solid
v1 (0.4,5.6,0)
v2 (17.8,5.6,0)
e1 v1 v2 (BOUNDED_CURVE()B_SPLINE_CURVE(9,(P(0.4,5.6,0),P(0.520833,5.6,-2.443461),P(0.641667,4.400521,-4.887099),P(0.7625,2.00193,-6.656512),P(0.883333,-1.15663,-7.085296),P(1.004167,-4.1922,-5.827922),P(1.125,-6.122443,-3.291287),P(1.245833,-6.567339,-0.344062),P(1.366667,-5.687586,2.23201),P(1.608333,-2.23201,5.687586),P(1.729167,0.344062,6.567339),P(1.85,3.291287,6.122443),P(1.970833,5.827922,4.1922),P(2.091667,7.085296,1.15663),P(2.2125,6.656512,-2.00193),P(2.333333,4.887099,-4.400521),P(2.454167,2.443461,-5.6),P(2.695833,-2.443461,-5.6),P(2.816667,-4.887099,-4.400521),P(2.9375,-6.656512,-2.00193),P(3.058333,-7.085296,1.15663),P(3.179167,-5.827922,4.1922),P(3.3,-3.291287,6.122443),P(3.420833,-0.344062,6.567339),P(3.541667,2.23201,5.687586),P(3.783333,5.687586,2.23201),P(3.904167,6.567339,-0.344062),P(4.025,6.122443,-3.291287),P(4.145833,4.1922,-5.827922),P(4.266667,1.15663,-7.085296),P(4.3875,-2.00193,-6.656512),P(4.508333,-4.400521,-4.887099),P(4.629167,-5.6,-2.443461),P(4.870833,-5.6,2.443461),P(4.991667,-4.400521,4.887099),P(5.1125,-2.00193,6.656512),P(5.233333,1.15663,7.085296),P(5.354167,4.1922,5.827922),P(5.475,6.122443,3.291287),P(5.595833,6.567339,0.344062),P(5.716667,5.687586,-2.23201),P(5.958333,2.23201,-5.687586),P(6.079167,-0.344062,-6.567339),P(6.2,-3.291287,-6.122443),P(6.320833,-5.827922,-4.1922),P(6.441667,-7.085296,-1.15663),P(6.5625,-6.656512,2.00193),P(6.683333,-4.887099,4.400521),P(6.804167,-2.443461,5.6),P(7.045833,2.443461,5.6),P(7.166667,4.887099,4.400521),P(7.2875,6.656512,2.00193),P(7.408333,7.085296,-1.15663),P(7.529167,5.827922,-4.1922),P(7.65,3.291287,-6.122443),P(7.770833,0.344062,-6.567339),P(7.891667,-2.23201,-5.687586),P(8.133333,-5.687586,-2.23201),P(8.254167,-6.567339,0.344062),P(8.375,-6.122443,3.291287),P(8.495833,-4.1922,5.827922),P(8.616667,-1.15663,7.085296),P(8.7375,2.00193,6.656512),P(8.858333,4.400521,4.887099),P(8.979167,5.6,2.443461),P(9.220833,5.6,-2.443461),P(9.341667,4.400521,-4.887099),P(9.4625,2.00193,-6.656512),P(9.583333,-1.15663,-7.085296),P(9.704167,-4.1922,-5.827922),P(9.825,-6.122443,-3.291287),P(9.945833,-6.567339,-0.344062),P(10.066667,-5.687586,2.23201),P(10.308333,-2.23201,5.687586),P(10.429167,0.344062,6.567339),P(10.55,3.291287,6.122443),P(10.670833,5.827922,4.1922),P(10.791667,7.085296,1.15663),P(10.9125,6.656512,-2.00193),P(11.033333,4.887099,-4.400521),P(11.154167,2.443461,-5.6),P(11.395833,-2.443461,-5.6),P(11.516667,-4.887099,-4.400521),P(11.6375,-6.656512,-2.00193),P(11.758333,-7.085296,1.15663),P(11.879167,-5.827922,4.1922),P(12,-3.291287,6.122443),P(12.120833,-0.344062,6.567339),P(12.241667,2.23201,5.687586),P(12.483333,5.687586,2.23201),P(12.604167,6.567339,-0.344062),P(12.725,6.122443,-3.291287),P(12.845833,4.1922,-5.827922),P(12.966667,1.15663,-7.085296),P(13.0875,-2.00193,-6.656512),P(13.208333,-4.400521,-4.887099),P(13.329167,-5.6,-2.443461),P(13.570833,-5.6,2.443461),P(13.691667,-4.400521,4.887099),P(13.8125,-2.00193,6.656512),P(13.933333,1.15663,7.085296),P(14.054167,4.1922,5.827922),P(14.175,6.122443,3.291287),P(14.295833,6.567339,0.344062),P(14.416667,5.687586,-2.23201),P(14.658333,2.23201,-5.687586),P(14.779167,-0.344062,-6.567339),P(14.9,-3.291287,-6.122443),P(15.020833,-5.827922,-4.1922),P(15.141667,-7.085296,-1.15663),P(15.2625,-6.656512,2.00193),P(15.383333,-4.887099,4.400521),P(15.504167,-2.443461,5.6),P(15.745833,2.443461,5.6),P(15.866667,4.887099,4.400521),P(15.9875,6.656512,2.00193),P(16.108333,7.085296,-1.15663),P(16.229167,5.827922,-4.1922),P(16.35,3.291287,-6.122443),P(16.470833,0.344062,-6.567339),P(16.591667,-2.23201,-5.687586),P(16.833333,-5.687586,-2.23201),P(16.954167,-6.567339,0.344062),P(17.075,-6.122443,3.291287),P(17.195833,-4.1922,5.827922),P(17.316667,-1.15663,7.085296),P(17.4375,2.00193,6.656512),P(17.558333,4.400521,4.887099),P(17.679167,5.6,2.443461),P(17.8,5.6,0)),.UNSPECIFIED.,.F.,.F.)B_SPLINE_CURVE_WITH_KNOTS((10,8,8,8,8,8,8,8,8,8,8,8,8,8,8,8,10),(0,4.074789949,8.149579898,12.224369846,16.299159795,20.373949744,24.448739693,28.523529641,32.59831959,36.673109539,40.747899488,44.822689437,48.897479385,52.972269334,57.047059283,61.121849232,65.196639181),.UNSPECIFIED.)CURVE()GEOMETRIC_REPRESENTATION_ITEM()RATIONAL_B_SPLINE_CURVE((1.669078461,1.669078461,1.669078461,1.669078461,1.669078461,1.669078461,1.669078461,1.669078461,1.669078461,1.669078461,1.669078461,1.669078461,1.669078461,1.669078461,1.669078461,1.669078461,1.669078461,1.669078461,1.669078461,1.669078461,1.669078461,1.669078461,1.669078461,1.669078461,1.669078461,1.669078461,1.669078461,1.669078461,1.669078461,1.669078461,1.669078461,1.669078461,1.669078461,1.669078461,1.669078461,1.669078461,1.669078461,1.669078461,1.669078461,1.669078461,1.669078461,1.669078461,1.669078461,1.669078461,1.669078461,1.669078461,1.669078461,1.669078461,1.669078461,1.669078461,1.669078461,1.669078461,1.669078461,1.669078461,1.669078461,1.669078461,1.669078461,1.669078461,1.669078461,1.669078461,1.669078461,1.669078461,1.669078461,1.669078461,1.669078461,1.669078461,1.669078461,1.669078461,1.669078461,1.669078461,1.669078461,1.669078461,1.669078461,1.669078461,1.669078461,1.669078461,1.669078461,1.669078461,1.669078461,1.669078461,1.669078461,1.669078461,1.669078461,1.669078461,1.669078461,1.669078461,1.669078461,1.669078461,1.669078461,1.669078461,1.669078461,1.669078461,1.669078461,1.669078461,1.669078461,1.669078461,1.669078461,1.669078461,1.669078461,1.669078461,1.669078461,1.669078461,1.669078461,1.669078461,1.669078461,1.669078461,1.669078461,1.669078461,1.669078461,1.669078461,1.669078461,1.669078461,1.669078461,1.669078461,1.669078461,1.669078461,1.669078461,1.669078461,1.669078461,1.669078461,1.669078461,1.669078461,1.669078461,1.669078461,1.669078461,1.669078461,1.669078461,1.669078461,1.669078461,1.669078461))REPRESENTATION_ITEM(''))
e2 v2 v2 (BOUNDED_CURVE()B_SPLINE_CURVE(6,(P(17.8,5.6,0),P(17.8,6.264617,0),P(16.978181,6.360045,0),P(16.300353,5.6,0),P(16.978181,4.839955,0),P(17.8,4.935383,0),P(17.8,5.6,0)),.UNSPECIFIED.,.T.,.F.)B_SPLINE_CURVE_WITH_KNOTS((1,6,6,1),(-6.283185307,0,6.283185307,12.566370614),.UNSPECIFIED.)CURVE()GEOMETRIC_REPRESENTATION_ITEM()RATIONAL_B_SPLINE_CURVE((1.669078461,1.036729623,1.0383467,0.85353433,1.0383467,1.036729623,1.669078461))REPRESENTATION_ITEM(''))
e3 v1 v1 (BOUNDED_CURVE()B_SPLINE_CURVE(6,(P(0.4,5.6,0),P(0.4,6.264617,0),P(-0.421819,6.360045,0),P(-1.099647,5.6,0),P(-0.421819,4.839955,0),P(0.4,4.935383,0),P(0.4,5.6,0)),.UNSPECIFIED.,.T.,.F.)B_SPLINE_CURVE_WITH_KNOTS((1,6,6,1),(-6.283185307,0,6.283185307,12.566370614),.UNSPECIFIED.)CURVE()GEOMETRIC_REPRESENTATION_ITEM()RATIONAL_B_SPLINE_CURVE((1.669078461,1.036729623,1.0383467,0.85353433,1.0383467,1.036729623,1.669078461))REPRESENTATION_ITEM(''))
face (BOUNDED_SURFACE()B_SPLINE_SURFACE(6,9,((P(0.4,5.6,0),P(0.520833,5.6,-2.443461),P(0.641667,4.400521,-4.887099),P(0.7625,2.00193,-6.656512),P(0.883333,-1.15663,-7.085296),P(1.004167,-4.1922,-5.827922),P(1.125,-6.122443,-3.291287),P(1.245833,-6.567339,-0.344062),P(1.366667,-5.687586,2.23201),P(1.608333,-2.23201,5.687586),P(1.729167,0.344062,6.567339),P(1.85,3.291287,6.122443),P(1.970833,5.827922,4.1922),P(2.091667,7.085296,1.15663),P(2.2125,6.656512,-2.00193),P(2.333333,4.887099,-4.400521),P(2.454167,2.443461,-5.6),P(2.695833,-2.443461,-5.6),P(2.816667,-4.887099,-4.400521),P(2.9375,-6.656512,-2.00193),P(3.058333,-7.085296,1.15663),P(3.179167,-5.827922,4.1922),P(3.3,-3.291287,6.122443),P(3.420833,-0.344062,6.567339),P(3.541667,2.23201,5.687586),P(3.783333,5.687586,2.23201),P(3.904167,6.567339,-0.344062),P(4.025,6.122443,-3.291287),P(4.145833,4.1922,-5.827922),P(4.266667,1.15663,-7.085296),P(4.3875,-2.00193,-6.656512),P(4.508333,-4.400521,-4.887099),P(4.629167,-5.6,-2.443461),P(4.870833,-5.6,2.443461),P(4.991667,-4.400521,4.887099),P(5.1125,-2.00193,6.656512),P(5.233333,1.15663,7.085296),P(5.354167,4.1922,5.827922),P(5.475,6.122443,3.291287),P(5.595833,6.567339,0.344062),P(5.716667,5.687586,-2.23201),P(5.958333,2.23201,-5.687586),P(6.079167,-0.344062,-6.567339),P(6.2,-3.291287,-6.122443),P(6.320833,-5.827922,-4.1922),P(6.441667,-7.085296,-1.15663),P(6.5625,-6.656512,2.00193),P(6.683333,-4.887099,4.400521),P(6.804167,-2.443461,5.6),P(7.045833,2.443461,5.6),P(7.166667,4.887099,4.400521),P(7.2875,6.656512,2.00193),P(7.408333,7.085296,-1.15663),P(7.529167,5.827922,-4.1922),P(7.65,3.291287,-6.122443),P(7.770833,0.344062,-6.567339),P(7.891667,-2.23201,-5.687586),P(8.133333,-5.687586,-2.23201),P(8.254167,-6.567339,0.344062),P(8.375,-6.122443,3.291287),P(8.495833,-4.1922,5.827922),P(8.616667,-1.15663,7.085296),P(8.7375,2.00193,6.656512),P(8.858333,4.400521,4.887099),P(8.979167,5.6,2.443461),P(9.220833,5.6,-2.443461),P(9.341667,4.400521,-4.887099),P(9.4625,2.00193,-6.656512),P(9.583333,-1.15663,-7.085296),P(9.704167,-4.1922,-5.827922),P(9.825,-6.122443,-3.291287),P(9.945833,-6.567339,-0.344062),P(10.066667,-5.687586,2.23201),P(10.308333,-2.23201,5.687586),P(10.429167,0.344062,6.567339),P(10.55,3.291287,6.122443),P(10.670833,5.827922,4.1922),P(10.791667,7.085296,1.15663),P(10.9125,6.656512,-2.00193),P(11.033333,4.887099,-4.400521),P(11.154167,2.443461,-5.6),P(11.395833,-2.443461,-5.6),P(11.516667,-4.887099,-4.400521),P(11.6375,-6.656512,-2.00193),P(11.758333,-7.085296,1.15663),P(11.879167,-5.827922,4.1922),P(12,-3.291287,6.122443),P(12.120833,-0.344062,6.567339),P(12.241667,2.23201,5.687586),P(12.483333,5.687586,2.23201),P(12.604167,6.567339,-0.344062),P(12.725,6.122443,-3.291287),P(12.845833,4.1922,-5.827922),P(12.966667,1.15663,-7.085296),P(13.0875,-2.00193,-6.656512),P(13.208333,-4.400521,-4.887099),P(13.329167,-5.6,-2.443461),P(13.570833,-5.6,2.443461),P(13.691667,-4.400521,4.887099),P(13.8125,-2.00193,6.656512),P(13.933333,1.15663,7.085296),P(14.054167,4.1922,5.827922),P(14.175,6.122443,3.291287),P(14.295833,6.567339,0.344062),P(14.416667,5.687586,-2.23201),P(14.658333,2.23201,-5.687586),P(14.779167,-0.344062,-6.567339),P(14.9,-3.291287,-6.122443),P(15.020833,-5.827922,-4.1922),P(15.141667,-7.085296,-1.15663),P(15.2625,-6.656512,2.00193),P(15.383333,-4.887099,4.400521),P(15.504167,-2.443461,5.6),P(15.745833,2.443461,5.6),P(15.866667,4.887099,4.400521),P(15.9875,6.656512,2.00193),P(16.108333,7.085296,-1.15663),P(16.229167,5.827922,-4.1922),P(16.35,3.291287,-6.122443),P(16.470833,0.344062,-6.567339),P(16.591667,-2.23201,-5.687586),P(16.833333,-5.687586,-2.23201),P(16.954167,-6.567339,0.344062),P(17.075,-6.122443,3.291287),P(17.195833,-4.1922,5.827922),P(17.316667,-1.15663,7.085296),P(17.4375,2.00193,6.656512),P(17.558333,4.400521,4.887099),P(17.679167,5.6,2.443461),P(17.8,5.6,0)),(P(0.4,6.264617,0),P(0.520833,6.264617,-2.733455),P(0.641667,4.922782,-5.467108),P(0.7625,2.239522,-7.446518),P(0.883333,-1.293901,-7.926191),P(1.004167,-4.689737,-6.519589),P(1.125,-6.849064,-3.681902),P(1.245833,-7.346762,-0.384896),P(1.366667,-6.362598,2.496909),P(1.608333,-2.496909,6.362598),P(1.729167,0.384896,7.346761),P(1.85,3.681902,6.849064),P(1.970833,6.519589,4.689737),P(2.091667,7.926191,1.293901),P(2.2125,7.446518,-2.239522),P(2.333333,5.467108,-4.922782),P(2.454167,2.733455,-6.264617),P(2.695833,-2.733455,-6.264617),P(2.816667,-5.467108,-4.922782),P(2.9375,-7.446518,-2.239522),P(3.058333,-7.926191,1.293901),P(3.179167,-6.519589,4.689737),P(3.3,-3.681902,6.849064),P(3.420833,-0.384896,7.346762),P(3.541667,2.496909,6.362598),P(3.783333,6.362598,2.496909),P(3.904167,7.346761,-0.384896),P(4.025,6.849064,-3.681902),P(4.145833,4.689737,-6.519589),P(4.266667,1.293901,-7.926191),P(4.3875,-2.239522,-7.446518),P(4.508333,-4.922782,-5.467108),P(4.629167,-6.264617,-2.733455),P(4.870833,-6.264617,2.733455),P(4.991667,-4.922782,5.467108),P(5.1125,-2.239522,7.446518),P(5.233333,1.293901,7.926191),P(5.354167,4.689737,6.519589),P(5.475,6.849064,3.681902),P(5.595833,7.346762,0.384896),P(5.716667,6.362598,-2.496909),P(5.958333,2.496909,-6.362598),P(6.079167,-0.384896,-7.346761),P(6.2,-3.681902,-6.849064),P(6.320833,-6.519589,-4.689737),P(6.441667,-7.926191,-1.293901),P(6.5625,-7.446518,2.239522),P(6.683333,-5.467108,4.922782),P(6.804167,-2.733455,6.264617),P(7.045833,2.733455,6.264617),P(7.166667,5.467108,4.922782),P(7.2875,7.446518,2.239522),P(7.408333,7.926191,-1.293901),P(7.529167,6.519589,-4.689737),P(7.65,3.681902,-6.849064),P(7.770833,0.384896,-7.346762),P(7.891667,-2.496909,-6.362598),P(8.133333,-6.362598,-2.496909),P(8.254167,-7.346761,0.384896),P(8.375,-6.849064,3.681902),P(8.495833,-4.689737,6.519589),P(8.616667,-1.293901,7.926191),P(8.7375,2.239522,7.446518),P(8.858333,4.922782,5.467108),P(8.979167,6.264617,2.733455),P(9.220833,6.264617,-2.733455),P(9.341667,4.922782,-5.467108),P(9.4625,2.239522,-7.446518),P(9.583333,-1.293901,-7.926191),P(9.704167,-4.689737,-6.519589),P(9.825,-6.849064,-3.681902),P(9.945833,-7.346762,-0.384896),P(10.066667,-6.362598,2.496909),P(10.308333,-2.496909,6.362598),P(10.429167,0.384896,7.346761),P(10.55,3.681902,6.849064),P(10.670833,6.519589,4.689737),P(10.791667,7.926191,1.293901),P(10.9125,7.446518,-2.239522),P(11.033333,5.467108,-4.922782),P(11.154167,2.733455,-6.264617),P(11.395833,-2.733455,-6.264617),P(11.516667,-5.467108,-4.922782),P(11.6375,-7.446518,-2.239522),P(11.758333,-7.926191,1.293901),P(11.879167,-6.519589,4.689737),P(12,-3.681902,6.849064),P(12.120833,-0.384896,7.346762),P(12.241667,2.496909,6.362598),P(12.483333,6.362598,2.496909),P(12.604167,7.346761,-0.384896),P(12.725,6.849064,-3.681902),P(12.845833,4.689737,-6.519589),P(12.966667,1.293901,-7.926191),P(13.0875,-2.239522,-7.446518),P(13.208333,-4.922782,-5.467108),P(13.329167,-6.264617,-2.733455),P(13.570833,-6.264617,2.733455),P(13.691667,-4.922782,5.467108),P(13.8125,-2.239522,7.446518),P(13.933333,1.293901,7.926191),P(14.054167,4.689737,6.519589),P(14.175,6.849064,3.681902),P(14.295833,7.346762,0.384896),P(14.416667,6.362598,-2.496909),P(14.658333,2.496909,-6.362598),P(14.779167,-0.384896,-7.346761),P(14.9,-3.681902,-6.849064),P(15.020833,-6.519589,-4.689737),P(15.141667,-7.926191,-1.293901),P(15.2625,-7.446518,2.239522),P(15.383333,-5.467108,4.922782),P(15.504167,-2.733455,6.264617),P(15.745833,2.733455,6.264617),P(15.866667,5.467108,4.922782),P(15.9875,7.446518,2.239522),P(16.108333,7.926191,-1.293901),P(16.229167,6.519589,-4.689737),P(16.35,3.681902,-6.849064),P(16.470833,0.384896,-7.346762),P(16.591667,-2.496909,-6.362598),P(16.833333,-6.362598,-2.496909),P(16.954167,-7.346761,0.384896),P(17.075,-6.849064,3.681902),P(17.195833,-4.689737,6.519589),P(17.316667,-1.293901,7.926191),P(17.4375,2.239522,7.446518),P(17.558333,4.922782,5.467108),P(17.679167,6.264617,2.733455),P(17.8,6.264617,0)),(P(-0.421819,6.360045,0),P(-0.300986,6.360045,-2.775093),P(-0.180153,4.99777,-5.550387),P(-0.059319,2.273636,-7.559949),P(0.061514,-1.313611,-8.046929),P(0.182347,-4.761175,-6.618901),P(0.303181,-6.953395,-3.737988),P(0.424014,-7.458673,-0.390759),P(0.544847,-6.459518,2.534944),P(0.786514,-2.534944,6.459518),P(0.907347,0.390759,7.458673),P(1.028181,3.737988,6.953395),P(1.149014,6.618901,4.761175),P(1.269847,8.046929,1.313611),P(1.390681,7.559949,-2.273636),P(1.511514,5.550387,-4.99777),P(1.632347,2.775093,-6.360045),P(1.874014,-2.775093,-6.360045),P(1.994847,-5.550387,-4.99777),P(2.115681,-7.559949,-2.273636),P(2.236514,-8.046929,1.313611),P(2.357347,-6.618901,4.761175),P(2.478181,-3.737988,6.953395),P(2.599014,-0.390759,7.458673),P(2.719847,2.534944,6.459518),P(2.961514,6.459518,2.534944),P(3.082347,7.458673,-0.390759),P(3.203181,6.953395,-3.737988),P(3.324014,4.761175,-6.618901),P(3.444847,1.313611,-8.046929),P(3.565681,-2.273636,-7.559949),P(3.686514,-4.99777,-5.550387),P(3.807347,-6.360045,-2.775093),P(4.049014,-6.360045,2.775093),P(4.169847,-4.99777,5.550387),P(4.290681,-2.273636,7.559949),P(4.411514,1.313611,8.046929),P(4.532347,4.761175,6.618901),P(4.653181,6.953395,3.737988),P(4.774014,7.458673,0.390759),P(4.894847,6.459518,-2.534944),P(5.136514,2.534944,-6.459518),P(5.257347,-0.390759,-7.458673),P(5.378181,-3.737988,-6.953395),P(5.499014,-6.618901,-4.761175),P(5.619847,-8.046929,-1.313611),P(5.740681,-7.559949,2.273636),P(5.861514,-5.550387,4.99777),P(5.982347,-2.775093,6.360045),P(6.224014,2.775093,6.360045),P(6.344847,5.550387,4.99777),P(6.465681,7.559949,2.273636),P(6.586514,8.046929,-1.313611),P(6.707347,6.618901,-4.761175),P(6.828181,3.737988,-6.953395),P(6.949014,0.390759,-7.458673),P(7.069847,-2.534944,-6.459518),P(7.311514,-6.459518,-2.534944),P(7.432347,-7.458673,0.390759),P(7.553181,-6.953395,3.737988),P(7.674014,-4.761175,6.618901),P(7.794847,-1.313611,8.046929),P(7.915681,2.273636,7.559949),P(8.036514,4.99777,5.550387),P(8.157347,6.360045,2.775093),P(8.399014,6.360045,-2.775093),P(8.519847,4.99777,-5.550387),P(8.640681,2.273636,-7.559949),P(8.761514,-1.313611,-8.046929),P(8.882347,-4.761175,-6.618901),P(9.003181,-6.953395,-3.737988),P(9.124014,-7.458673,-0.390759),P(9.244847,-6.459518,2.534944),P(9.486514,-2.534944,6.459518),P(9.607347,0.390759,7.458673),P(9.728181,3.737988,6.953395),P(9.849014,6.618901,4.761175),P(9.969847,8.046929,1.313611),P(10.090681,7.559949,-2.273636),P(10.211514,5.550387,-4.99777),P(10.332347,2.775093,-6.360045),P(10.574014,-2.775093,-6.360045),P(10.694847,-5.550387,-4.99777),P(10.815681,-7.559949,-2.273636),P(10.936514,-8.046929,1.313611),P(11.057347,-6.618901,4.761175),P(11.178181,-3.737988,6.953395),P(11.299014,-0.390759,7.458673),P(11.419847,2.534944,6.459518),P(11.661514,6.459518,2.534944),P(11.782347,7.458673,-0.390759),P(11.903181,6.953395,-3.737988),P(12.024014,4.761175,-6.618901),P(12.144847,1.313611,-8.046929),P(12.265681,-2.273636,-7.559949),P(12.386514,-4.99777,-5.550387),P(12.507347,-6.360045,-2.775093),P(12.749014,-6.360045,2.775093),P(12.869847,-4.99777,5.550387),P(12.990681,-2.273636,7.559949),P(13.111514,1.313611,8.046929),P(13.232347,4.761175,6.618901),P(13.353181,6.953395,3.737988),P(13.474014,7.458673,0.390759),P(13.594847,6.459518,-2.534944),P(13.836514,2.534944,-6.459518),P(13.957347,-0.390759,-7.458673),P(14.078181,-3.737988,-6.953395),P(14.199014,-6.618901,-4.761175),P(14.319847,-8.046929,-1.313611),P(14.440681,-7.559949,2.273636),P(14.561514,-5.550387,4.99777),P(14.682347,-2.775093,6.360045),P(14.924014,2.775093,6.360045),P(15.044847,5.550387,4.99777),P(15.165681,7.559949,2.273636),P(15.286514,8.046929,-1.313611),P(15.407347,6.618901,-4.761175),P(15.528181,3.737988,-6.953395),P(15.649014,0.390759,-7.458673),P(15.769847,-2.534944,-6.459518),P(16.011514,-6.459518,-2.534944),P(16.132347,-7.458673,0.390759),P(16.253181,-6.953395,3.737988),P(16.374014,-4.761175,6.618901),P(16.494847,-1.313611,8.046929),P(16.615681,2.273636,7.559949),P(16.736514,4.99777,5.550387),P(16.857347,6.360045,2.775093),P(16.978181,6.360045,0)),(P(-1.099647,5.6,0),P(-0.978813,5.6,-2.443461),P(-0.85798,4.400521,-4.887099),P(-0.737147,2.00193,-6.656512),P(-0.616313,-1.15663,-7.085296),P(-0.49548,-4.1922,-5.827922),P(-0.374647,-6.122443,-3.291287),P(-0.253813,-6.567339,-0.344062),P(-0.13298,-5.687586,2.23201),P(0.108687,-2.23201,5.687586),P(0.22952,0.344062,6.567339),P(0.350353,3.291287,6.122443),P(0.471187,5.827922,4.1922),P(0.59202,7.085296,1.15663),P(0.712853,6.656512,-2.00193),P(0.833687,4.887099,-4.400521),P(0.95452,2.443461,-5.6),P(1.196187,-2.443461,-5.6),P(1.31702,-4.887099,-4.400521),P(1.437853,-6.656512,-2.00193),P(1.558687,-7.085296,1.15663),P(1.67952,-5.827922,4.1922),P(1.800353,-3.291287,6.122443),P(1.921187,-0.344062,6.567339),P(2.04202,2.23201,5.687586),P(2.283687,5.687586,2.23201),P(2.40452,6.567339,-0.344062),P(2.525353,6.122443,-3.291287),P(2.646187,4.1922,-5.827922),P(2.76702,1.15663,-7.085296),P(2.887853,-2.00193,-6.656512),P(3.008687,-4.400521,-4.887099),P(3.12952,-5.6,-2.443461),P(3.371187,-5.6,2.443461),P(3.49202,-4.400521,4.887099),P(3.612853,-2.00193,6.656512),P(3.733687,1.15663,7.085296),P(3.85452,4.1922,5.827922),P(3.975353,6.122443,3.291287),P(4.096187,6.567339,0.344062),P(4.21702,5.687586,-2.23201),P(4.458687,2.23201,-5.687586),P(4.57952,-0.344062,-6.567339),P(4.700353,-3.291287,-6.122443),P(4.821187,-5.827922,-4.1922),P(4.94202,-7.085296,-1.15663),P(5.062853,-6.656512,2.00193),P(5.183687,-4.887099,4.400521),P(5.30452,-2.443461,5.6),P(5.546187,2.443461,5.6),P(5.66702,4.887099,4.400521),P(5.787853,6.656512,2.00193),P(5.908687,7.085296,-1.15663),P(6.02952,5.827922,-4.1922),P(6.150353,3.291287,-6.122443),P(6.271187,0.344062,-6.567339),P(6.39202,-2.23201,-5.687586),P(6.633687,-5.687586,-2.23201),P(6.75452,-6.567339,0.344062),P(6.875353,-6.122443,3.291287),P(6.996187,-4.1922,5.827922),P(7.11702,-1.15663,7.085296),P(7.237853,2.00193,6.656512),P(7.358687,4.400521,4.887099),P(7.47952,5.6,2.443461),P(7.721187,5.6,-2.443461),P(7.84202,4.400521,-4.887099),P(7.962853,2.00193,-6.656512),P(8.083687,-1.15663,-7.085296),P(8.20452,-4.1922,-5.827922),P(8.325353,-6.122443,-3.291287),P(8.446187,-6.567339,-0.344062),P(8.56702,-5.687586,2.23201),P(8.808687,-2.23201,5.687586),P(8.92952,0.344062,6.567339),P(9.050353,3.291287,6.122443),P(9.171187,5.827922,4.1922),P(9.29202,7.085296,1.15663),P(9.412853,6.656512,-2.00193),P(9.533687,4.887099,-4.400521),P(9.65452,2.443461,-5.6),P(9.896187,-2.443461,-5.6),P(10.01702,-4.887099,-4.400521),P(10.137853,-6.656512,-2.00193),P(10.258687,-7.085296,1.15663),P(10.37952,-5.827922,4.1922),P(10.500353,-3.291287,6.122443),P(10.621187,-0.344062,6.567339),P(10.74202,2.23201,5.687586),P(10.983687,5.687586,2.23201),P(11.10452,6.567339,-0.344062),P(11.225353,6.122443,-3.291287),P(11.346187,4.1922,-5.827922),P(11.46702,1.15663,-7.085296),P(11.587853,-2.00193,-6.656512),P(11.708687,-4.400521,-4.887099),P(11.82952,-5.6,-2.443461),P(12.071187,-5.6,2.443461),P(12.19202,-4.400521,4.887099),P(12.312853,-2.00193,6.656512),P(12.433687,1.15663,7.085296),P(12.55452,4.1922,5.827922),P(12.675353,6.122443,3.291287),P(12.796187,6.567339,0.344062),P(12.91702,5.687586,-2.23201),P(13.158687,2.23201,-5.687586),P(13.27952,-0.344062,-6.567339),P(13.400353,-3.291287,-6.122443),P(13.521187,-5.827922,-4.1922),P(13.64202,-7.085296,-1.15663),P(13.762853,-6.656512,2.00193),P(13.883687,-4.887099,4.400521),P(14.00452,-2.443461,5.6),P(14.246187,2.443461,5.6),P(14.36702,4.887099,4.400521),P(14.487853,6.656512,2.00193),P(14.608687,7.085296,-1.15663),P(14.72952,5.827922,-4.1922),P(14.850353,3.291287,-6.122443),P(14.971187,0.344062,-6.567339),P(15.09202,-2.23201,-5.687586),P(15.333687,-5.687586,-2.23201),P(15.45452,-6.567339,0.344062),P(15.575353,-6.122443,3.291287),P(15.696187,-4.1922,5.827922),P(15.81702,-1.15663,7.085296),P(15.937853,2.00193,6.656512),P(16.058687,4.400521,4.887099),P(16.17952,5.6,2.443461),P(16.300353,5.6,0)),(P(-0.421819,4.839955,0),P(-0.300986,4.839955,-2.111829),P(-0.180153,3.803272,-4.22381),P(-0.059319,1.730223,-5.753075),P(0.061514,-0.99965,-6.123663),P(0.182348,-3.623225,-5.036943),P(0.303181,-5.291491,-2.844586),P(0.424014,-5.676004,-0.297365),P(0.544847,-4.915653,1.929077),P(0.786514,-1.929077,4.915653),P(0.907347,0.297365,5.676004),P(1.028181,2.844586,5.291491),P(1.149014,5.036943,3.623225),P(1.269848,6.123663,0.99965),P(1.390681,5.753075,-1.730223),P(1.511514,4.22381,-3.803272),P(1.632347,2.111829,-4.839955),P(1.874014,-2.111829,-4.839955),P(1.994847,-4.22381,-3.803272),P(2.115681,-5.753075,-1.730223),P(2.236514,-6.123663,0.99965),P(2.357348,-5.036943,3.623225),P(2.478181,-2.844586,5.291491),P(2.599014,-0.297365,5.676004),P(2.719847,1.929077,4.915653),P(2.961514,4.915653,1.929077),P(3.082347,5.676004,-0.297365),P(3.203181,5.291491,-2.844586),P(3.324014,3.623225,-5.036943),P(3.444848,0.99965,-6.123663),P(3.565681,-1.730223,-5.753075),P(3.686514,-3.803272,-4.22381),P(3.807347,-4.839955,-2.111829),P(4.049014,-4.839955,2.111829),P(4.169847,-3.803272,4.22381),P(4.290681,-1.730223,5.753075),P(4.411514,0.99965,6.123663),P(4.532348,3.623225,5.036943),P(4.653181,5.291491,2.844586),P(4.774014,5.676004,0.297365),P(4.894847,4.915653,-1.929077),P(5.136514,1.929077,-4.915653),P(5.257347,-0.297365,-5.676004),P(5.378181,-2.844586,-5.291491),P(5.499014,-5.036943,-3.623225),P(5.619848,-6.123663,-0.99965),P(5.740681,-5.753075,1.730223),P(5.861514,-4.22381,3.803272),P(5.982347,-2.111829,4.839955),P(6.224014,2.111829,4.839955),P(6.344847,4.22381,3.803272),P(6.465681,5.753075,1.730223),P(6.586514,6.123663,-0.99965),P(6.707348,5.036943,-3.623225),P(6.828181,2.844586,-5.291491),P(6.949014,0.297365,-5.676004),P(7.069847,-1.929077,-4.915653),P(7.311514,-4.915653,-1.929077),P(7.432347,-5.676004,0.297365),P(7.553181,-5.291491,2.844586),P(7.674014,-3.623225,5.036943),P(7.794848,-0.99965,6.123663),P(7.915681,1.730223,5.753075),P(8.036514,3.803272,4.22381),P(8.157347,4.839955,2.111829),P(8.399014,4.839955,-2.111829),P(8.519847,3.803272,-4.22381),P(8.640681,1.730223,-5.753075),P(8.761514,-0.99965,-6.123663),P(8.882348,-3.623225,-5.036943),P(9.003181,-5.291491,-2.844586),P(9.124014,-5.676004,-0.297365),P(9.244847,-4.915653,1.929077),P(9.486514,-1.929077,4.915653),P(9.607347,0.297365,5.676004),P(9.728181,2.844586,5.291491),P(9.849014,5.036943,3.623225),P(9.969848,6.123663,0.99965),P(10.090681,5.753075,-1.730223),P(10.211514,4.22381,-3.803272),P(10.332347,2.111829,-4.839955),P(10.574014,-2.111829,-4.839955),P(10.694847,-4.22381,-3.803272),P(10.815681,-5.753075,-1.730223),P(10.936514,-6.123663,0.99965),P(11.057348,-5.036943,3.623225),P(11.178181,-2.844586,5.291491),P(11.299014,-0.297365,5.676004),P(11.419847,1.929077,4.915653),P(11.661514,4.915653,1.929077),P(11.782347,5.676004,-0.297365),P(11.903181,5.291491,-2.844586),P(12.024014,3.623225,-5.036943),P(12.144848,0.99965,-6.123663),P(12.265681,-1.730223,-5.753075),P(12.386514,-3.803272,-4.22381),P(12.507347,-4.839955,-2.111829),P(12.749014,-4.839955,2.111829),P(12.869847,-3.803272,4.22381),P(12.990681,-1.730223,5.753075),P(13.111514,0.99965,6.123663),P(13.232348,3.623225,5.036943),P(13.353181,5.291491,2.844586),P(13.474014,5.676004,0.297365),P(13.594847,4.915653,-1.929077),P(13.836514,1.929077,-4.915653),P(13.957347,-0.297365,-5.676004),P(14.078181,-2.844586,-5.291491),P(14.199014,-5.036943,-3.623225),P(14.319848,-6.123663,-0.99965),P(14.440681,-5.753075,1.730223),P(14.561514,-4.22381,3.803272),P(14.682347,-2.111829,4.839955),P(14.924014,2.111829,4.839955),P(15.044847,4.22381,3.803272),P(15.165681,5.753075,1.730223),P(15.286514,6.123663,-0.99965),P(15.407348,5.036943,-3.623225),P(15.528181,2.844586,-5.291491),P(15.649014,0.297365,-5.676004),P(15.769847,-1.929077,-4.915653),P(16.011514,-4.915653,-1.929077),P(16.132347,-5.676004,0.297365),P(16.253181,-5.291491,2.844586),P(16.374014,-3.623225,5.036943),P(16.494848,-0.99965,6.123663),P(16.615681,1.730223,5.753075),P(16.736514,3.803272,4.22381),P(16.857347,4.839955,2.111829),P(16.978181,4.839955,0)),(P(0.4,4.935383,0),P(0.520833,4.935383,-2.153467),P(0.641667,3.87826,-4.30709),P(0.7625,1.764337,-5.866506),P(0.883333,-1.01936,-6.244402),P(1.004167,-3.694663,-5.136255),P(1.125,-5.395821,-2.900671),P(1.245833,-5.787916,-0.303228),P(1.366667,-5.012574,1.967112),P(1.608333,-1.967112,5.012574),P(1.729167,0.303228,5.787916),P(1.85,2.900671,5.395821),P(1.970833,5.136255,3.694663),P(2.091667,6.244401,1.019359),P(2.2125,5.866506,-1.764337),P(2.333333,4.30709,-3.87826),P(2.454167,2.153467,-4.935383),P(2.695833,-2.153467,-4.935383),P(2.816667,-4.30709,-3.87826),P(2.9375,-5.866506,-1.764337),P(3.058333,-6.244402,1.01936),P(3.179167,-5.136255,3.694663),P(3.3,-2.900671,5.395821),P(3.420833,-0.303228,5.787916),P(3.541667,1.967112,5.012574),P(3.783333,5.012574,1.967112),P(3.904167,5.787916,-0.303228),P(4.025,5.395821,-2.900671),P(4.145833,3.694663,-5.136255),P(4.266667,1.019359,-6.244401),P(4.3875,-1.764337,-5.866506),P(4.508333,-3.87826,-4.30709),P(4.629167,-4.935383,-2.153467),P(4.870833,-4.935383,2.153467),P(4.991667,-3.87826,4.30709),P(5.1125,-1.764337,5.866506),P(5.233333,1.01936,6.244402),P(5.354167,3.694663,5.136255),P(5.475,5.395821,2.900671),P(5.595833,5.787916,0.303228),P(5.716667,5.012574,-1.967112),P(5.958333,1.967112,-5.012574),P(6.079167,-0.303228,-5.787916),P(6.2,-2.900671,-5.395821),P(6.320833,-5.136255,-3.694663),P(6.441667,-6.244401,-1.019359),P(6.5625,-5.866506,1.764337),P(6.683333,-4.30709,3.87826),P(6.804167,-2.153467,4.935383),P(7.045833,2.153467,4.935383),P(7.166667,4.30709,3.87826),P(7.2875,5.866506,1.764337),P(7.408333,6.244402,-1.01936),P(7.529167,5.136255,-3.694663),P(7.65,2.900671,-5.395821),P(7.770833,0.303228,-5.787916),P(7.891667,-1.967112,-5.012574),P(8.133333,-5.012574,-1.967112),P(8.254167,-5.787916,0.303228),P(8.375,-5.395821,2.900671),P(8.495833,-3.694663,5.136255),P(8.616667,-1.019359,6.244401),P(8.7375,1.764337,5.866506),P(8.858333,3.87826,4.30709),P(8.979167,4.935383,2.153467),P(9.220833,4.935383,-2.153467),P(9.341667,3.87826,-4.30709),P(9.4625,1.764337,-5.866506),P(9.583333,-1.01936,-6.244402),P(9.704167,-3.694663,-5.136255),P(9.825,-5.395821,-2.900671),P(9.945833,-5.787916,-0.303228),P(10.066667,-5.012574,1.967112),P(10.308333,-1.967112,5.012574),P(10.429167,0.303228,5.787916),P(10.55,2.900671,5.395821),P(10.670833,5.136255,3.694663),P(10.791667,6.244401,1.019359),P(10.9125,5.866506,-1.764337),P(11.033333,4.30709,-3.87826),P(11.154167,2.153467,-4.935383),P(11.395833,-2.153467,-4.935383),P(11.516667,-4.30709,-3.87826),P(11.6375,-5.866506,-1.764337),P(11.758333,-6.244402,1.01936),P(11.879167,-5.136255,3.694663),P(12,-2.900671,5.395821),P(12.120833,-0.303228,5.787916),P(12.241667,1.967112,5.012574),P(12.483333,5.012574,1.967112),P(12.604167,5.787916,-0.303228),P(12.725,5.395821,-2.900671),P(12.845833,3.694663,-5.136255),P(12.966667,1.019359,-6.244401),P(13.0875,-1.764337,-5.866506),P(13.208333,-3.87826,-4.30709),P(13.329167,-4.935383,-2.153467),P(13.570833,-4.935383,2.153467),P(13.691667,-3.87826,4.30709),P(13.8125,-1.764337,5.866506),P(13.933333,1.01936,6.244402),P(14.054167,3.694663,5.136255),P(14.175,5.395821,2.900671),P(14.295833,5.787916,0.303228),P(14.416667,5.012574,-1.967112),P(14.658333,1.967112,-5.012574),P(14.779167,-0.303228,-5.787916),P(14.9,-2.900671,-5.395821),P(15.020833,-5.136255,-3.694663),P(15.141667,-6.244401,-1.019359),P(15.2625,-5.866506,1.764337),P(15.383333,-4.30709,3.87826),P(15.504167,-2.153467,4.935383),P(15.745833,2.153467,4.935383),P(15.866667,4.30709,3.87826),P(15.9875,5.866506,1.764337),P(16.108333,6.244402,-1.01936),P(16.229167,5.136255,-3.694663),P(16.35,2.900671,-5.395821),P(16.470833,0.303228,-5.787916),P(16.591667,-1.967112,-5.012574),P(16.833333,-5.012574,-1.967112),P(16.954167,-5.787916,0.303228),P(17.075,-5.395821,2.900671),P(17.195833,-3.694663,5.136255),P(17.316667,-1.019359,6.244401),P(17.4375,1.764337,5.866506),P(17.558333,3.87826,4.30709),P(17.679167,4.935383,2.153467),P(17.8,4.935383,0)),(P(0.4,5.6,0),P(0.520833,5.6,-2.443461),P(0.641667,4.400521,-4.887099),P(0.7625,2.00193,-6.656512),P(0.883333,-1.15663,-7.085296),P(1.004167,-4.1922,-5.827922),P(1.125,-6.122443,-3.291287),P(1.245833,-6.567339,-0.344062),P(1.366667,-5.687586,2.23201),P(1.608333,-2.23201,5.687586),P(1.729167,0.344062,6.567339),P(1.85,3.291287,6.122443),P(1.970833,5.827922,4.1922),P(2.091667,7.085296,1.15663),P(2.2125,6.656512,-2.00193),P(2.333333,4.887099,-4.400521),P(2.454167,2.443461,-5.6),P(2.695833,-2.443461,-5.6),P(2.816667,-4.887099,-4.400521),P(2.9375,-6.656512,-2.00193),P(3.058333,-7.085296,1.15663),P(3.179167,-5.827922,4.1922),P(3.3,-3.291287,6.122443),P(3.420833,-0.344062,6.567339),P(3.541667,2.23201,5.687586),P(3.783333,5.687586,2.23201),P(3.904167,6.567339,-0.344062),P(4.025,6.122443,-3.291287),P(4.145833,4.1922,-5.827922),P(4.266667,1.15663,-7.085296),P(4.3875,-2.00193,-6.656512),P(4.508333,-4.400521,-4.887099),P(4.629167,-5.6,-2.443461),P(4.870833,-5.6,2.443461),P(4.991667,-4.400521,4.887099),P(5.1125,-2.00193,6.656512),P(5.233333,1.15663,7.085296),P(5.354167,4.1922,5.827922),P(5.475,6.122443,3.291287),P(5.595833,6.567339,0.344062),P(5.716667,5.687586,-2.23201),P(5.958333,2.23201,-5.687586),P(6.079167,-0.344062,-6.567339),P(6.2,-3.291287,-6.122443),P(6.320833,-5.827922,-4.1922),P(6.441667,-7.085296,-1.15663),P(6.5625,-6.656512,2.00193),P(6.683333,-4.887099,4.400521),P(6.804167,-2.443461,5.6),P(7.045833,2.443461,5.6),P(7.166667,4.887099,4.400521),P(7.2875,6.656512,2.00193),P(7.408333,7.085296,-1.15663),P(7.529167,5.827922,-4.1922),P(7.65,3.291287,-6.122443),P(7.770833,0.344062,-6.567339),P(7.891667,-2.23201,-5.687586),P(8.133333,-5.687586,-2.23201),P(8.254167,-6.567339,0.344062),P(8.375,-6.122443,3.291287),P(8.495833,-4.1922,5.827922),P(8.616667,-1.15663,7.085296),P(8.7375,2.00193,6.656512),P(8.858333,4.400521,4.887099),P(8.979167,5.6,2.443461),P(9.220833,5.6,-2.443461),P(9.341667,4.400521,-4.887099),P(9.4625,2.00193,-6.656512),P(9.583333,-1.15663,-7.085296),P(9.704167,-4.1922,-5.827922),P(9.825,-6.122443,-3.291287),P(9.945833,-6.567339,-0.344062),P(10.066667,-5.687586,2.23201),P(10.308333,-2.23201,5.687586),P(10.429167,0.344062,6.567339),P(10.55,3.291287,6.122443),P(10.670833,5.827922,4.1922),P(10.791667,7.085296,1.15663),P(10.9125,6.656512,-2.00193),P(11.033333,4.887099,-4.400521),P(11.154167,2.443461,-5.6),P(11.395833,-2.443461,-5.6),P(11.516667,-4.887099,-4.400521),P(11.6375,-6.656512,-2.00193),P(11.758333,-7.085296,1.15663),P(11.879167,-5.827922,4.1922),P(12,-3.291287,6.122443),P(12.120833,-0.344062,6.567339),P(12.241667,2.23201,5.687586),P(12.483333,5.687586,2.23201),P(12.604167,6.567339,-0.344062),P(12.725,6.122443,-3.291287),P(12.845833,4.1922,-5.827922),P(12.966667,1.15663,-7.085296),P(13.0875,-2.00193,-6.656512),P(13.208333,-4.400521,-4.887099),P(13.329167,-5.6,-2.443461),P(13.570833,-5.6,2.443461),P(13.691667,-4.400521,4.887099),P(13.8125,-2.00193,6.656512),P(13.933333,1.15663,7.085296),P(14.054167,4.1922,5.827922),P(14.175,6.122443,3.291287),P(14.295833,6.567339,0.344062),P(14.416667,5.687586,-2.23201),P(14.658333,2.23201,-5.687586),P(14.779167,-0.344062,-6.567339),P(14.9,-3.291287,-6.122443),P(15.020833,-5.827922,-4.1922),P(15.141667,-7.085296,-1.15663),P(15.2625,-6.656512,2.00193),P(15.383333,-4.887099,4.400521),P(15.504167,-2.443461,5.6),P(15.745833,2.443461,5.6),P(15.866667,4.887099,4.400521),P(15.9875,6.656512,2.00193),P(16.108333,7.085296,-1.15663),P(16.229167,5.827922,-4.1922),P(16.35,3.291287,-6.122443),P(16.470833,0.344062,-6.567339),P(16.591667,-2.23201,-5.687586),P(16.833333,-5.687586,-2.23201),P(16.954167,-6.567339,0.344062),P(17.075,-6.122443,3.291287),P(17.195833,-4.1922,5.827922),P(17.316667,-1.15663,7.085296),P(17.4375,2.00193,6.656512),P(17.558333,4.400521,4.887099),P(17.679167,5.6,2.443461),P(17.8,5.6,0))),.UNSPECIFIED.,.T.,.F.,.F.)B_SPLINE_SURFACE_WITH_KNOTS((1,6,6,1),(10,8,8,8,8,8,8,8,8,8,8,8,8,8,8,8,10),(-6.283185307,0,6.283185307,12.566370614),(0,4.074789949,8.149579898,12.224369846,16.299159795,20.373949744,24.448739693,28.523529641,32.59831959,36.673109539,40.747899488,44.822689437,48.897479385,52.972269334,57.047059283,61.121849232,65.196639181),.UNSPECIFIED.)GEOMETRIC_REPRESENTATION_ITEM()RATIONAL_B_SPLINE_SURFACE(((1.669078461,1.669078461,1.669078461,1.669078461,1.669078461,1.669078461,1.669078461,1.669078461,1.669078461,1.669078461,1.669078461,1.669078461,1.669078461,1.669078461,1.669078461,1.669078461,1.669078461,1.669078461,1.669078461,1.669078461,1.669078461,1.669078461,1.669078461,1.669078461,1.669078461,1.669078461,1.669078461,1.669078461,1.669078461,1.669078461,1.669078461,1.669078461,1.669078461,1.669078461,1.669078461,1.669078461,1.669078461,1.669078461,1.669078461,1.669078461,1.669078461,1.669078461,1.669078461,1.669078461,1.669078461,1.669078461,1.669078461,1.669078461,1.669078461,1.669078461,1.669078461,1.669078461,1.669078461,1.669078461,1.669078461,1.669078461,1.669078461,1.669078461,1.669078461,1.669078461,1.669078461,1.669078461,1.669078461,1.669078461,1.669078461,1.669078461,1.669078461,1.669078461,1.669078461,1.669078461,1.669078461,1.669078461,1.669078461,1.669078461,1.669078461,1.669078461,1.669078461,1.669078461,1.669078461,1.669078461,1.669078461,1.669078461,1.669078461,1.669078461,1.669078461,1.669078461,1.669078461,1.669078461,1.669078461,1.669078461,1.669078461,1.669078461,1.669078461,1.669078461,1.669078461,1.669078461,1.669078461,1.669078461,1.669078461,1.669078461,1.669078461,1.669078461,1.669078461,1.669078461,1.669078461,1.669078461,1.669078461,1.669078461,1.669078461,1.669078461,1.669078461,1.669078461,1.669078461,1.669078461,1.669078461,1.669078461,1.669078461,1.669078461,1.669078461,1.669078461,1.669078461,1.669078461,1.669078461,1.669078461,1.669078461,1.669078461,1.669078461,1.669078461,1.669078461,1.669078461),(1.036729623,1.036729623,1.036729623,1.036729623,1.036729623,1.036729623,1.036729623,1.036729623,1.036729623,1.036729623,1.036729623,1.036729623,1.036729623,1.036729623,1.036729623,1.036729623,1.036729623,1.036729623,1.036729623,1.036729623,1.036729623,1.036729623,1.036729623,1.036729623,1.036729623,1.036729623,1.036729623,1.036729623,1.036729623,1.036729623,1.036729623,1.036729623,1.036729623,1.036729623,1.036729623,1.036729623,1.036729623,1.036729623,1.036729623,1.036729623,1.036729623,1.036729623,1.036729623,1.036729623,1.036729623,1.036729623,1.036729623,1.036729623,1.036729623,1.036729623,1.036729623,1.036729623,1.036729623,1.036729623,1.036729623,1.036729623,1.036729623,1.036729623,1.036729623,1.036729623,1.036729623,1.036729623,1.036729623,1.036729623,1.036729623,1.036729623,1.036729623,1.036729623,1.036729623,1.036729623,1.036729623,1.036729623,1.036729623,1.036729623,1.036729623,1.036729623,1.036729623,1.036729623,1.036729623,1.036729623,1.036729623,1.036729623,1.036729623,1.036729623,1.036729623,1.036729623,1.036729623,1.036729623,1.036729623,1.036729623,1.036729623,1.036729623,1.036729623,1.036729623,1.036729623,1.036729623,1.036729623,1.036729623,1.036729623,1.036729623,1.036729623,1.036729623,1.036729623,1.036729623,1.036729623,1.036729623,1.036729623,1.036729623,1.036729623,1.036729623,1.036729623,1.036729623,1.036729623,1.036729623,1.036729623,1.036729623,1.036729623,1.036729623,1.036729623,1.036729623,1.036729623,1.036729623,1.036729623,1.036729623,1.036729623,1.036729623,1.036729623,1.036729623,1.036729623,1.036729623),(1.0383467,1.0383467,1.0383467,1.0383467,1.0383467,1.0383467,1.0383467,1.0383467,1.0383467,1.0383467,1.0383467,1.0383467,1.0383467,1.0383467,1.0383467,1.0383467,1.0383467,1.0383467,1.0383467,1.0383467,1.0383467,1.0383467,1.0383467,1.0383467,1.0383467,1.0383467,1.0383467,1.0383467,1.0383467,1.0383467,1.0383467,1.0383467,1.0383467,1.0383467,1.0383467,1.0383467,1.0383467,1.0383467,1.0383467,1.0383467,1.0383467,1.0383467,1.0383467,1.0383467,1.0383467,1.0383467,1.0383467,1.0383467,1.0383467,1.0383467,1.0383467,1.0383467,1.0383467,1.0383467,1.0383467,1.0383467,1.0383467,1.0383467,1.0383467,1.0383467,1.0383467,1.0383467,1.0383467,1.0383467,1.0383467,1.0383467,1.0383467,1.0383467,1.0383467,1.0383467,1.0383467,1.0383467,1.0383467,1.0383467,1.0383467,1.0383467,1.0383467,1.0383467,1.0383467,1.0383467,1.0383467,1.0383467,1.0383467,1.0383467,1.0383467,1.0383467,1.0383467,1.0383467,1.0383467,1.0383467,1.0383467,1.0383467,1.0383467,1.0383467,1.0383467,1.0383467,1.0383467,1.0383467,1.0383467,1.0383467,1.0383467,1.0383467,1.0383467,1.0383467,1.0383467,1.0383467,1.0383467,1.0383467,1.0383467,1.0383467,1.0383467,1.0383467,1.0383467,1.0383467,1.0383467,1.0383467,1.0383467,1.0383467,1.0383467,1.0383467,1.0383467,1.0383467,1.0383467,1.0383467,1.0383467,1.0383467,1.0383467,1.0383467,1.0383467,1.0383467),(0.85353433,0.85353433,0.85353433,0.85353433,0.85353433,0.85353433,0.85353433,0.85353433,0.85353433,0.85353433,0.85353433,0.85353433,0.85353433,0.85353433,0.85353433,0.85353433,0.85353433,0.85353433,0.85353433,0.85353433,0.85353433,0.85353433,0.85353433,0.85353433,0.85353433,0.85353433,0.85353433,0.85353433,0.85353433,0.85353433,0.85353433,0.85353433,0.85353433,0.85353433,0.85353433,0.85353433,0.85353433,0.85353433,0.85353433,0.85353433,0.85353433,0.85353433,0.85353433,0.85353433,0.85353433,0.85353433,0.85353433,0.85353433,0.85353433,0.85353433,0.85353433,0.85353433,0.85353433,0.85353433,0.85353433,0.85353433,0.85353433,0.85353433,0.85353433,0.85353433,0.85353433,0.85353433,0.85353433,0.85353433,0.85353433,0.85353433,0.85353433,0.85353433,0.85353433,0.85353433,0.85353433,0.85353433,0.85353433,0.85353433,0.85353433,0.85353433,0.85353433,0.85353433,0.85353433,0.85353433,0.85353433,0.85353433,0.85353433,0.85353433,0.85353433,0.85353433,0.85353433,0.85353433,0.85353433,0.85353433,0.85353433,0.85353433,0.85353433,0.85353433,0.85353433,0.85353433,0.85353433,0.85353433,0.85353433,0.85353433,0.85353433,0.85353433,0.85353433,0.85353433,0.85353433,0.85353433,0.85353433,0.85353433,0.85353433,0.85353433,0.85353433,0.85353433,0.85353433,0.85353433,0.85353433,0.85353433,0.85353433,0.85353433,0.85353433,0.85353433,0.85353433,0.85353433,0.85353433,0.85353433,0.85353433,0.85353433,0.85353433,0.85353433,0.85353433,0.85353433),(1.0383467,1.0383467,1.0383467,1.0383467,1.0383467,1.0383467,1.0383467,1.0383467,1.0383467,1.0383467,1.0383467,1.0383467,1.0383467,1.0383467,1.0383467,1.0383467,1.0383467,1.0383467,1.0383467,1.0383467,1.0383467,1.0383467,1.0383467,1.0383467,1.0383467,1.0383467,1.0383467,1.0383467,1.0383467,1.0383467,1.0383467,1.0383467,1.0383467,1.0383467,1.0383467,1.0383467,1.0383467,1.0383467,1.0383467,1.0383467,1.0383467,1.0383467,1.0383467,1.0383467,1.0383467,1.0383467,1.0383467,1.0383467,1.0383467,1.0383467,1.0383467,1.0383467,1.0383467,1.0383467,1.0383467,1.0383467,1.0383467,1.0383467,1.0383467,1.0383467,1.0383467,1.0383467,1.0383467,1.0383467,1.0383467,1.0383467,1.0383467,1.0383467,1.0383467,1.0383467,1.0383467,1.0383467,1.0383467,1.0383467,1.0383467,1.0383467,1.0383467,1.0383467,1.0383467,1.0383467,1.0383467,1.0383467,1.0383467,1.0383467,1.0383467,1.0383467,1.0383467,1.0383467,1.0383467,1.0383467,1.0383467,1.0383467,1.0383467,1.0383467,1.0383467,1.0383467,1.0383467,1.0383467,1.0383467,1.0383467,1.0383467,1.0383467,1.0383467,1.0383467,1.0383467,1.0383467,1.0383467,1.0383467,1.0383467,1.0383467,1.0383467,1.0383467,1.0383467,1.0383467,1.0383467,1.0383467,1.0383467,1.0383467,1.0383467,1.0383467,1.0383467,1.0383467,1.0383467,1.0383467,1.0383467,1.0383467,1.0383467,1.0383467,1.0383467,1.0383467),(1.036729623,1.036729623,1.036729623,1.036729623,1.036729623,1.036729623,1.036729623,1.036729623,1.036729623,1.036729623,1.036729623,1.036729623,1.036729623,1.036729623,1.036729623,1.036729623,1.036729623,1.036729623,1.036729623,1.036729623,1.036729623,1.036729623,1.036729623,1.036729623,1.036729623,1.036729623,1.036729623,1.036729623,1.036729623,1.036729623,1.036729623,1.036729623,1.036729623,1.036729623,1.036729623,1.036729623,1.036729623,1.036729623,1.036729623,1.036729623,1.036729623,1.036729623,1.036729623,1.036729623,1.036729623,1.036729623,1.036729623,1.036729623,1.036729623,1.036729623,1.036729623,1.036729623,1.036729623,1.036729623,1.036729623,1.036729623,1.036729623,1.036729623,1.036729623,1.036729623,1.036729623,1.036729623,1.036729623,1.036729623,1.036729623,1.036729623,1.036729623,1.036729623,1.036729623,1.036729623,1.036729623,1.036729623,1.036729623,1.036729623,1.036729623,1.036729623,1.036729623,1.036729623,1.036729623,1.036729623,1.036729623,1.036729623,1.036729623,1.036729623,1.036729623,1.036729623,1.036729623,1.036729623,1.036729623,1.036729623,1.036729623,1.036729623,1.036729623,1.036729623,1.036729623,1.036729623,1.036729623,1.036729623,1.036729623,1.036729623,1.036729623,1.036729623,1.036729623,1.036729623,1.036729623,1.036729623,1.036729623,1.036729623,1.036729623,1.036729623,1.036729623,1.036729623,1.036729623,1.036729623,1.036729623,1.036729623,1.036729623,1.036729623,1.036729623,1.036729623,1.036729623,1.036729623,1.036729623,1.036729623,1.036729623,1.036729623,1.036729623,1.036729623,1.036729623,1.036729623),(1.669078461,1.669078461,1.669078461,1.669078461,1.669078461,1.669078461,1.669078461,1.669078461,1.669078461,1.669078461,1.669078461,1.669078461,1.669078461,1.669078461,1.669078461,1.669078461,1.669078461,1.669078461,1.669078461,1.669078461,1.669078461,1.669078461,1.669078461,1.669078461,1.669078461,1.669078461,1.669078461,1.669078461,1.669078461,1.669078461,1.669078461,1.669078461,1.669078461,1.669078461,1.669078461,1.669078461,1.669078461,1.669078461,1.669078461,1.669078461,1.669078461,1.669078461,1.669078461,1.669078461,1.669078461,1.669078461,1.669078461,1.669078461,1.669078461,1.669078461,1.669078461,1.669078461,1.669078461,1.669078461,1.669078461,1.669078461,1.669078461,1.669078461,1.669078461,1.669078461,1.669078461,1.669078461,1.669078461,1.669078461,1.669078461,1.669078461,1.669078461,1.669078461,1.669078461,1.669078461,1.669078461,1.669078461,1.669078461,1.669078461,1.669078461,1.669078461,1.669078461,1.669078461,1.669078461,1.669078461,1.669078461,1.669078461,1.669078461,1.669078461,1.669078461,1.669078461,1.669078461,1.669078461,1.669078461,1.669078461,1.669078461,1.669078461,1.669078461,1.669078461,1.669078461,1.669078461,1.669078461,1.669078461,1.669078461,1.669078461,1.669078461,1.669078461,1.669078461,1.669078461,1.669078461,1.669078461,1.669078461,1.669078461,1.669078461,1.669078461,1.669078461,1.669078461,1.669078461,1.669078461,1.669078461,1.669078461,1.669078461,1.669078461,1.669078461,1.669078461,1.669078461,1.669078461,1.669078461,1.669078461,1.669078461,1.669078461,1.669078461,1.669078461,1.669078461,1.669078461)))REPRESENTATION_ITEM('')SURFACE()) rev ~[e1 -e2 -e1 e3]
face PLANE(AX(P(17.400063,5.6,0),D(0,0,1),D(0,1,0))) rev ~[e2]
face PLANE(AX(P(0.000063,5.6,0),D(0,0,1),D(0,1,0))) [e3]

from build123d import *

# Parameters (mm, degrees)
SWEEP1_PITCH       = 1.74
SWEEP1_HEIGHT      = 17.4
SWEEP1_RADIUS      = 5.6
SWEEP1_START_ANGLE = -90
SKETCH2_R          = 0.4


with BuildPart() as part:
    # Sweep1: sweep along a helix
    with BuildLine() as sweep1_path:
        add(Helix(SWEEP1_PITCH, SWEEP1_HEIGHT, SWEEP1_RADIUS, center=(0, 0, 0), direction=(1, 0, 0), lefthand=True, mode=Mode.PRIVATE).rotate(Axis((0, 0, 0), (1, 0, 0)), SWEEP1_START_ANGLE))
    # Sketch2 → Sweep1 (sweep)
    with BuildSketch(Plane.XY):
        with Locations((0, 5.6)):
            Circle(SKETCH2_R)
    sweep(path=sweep1_path.line, is_frenet=True)


solid = part.part
